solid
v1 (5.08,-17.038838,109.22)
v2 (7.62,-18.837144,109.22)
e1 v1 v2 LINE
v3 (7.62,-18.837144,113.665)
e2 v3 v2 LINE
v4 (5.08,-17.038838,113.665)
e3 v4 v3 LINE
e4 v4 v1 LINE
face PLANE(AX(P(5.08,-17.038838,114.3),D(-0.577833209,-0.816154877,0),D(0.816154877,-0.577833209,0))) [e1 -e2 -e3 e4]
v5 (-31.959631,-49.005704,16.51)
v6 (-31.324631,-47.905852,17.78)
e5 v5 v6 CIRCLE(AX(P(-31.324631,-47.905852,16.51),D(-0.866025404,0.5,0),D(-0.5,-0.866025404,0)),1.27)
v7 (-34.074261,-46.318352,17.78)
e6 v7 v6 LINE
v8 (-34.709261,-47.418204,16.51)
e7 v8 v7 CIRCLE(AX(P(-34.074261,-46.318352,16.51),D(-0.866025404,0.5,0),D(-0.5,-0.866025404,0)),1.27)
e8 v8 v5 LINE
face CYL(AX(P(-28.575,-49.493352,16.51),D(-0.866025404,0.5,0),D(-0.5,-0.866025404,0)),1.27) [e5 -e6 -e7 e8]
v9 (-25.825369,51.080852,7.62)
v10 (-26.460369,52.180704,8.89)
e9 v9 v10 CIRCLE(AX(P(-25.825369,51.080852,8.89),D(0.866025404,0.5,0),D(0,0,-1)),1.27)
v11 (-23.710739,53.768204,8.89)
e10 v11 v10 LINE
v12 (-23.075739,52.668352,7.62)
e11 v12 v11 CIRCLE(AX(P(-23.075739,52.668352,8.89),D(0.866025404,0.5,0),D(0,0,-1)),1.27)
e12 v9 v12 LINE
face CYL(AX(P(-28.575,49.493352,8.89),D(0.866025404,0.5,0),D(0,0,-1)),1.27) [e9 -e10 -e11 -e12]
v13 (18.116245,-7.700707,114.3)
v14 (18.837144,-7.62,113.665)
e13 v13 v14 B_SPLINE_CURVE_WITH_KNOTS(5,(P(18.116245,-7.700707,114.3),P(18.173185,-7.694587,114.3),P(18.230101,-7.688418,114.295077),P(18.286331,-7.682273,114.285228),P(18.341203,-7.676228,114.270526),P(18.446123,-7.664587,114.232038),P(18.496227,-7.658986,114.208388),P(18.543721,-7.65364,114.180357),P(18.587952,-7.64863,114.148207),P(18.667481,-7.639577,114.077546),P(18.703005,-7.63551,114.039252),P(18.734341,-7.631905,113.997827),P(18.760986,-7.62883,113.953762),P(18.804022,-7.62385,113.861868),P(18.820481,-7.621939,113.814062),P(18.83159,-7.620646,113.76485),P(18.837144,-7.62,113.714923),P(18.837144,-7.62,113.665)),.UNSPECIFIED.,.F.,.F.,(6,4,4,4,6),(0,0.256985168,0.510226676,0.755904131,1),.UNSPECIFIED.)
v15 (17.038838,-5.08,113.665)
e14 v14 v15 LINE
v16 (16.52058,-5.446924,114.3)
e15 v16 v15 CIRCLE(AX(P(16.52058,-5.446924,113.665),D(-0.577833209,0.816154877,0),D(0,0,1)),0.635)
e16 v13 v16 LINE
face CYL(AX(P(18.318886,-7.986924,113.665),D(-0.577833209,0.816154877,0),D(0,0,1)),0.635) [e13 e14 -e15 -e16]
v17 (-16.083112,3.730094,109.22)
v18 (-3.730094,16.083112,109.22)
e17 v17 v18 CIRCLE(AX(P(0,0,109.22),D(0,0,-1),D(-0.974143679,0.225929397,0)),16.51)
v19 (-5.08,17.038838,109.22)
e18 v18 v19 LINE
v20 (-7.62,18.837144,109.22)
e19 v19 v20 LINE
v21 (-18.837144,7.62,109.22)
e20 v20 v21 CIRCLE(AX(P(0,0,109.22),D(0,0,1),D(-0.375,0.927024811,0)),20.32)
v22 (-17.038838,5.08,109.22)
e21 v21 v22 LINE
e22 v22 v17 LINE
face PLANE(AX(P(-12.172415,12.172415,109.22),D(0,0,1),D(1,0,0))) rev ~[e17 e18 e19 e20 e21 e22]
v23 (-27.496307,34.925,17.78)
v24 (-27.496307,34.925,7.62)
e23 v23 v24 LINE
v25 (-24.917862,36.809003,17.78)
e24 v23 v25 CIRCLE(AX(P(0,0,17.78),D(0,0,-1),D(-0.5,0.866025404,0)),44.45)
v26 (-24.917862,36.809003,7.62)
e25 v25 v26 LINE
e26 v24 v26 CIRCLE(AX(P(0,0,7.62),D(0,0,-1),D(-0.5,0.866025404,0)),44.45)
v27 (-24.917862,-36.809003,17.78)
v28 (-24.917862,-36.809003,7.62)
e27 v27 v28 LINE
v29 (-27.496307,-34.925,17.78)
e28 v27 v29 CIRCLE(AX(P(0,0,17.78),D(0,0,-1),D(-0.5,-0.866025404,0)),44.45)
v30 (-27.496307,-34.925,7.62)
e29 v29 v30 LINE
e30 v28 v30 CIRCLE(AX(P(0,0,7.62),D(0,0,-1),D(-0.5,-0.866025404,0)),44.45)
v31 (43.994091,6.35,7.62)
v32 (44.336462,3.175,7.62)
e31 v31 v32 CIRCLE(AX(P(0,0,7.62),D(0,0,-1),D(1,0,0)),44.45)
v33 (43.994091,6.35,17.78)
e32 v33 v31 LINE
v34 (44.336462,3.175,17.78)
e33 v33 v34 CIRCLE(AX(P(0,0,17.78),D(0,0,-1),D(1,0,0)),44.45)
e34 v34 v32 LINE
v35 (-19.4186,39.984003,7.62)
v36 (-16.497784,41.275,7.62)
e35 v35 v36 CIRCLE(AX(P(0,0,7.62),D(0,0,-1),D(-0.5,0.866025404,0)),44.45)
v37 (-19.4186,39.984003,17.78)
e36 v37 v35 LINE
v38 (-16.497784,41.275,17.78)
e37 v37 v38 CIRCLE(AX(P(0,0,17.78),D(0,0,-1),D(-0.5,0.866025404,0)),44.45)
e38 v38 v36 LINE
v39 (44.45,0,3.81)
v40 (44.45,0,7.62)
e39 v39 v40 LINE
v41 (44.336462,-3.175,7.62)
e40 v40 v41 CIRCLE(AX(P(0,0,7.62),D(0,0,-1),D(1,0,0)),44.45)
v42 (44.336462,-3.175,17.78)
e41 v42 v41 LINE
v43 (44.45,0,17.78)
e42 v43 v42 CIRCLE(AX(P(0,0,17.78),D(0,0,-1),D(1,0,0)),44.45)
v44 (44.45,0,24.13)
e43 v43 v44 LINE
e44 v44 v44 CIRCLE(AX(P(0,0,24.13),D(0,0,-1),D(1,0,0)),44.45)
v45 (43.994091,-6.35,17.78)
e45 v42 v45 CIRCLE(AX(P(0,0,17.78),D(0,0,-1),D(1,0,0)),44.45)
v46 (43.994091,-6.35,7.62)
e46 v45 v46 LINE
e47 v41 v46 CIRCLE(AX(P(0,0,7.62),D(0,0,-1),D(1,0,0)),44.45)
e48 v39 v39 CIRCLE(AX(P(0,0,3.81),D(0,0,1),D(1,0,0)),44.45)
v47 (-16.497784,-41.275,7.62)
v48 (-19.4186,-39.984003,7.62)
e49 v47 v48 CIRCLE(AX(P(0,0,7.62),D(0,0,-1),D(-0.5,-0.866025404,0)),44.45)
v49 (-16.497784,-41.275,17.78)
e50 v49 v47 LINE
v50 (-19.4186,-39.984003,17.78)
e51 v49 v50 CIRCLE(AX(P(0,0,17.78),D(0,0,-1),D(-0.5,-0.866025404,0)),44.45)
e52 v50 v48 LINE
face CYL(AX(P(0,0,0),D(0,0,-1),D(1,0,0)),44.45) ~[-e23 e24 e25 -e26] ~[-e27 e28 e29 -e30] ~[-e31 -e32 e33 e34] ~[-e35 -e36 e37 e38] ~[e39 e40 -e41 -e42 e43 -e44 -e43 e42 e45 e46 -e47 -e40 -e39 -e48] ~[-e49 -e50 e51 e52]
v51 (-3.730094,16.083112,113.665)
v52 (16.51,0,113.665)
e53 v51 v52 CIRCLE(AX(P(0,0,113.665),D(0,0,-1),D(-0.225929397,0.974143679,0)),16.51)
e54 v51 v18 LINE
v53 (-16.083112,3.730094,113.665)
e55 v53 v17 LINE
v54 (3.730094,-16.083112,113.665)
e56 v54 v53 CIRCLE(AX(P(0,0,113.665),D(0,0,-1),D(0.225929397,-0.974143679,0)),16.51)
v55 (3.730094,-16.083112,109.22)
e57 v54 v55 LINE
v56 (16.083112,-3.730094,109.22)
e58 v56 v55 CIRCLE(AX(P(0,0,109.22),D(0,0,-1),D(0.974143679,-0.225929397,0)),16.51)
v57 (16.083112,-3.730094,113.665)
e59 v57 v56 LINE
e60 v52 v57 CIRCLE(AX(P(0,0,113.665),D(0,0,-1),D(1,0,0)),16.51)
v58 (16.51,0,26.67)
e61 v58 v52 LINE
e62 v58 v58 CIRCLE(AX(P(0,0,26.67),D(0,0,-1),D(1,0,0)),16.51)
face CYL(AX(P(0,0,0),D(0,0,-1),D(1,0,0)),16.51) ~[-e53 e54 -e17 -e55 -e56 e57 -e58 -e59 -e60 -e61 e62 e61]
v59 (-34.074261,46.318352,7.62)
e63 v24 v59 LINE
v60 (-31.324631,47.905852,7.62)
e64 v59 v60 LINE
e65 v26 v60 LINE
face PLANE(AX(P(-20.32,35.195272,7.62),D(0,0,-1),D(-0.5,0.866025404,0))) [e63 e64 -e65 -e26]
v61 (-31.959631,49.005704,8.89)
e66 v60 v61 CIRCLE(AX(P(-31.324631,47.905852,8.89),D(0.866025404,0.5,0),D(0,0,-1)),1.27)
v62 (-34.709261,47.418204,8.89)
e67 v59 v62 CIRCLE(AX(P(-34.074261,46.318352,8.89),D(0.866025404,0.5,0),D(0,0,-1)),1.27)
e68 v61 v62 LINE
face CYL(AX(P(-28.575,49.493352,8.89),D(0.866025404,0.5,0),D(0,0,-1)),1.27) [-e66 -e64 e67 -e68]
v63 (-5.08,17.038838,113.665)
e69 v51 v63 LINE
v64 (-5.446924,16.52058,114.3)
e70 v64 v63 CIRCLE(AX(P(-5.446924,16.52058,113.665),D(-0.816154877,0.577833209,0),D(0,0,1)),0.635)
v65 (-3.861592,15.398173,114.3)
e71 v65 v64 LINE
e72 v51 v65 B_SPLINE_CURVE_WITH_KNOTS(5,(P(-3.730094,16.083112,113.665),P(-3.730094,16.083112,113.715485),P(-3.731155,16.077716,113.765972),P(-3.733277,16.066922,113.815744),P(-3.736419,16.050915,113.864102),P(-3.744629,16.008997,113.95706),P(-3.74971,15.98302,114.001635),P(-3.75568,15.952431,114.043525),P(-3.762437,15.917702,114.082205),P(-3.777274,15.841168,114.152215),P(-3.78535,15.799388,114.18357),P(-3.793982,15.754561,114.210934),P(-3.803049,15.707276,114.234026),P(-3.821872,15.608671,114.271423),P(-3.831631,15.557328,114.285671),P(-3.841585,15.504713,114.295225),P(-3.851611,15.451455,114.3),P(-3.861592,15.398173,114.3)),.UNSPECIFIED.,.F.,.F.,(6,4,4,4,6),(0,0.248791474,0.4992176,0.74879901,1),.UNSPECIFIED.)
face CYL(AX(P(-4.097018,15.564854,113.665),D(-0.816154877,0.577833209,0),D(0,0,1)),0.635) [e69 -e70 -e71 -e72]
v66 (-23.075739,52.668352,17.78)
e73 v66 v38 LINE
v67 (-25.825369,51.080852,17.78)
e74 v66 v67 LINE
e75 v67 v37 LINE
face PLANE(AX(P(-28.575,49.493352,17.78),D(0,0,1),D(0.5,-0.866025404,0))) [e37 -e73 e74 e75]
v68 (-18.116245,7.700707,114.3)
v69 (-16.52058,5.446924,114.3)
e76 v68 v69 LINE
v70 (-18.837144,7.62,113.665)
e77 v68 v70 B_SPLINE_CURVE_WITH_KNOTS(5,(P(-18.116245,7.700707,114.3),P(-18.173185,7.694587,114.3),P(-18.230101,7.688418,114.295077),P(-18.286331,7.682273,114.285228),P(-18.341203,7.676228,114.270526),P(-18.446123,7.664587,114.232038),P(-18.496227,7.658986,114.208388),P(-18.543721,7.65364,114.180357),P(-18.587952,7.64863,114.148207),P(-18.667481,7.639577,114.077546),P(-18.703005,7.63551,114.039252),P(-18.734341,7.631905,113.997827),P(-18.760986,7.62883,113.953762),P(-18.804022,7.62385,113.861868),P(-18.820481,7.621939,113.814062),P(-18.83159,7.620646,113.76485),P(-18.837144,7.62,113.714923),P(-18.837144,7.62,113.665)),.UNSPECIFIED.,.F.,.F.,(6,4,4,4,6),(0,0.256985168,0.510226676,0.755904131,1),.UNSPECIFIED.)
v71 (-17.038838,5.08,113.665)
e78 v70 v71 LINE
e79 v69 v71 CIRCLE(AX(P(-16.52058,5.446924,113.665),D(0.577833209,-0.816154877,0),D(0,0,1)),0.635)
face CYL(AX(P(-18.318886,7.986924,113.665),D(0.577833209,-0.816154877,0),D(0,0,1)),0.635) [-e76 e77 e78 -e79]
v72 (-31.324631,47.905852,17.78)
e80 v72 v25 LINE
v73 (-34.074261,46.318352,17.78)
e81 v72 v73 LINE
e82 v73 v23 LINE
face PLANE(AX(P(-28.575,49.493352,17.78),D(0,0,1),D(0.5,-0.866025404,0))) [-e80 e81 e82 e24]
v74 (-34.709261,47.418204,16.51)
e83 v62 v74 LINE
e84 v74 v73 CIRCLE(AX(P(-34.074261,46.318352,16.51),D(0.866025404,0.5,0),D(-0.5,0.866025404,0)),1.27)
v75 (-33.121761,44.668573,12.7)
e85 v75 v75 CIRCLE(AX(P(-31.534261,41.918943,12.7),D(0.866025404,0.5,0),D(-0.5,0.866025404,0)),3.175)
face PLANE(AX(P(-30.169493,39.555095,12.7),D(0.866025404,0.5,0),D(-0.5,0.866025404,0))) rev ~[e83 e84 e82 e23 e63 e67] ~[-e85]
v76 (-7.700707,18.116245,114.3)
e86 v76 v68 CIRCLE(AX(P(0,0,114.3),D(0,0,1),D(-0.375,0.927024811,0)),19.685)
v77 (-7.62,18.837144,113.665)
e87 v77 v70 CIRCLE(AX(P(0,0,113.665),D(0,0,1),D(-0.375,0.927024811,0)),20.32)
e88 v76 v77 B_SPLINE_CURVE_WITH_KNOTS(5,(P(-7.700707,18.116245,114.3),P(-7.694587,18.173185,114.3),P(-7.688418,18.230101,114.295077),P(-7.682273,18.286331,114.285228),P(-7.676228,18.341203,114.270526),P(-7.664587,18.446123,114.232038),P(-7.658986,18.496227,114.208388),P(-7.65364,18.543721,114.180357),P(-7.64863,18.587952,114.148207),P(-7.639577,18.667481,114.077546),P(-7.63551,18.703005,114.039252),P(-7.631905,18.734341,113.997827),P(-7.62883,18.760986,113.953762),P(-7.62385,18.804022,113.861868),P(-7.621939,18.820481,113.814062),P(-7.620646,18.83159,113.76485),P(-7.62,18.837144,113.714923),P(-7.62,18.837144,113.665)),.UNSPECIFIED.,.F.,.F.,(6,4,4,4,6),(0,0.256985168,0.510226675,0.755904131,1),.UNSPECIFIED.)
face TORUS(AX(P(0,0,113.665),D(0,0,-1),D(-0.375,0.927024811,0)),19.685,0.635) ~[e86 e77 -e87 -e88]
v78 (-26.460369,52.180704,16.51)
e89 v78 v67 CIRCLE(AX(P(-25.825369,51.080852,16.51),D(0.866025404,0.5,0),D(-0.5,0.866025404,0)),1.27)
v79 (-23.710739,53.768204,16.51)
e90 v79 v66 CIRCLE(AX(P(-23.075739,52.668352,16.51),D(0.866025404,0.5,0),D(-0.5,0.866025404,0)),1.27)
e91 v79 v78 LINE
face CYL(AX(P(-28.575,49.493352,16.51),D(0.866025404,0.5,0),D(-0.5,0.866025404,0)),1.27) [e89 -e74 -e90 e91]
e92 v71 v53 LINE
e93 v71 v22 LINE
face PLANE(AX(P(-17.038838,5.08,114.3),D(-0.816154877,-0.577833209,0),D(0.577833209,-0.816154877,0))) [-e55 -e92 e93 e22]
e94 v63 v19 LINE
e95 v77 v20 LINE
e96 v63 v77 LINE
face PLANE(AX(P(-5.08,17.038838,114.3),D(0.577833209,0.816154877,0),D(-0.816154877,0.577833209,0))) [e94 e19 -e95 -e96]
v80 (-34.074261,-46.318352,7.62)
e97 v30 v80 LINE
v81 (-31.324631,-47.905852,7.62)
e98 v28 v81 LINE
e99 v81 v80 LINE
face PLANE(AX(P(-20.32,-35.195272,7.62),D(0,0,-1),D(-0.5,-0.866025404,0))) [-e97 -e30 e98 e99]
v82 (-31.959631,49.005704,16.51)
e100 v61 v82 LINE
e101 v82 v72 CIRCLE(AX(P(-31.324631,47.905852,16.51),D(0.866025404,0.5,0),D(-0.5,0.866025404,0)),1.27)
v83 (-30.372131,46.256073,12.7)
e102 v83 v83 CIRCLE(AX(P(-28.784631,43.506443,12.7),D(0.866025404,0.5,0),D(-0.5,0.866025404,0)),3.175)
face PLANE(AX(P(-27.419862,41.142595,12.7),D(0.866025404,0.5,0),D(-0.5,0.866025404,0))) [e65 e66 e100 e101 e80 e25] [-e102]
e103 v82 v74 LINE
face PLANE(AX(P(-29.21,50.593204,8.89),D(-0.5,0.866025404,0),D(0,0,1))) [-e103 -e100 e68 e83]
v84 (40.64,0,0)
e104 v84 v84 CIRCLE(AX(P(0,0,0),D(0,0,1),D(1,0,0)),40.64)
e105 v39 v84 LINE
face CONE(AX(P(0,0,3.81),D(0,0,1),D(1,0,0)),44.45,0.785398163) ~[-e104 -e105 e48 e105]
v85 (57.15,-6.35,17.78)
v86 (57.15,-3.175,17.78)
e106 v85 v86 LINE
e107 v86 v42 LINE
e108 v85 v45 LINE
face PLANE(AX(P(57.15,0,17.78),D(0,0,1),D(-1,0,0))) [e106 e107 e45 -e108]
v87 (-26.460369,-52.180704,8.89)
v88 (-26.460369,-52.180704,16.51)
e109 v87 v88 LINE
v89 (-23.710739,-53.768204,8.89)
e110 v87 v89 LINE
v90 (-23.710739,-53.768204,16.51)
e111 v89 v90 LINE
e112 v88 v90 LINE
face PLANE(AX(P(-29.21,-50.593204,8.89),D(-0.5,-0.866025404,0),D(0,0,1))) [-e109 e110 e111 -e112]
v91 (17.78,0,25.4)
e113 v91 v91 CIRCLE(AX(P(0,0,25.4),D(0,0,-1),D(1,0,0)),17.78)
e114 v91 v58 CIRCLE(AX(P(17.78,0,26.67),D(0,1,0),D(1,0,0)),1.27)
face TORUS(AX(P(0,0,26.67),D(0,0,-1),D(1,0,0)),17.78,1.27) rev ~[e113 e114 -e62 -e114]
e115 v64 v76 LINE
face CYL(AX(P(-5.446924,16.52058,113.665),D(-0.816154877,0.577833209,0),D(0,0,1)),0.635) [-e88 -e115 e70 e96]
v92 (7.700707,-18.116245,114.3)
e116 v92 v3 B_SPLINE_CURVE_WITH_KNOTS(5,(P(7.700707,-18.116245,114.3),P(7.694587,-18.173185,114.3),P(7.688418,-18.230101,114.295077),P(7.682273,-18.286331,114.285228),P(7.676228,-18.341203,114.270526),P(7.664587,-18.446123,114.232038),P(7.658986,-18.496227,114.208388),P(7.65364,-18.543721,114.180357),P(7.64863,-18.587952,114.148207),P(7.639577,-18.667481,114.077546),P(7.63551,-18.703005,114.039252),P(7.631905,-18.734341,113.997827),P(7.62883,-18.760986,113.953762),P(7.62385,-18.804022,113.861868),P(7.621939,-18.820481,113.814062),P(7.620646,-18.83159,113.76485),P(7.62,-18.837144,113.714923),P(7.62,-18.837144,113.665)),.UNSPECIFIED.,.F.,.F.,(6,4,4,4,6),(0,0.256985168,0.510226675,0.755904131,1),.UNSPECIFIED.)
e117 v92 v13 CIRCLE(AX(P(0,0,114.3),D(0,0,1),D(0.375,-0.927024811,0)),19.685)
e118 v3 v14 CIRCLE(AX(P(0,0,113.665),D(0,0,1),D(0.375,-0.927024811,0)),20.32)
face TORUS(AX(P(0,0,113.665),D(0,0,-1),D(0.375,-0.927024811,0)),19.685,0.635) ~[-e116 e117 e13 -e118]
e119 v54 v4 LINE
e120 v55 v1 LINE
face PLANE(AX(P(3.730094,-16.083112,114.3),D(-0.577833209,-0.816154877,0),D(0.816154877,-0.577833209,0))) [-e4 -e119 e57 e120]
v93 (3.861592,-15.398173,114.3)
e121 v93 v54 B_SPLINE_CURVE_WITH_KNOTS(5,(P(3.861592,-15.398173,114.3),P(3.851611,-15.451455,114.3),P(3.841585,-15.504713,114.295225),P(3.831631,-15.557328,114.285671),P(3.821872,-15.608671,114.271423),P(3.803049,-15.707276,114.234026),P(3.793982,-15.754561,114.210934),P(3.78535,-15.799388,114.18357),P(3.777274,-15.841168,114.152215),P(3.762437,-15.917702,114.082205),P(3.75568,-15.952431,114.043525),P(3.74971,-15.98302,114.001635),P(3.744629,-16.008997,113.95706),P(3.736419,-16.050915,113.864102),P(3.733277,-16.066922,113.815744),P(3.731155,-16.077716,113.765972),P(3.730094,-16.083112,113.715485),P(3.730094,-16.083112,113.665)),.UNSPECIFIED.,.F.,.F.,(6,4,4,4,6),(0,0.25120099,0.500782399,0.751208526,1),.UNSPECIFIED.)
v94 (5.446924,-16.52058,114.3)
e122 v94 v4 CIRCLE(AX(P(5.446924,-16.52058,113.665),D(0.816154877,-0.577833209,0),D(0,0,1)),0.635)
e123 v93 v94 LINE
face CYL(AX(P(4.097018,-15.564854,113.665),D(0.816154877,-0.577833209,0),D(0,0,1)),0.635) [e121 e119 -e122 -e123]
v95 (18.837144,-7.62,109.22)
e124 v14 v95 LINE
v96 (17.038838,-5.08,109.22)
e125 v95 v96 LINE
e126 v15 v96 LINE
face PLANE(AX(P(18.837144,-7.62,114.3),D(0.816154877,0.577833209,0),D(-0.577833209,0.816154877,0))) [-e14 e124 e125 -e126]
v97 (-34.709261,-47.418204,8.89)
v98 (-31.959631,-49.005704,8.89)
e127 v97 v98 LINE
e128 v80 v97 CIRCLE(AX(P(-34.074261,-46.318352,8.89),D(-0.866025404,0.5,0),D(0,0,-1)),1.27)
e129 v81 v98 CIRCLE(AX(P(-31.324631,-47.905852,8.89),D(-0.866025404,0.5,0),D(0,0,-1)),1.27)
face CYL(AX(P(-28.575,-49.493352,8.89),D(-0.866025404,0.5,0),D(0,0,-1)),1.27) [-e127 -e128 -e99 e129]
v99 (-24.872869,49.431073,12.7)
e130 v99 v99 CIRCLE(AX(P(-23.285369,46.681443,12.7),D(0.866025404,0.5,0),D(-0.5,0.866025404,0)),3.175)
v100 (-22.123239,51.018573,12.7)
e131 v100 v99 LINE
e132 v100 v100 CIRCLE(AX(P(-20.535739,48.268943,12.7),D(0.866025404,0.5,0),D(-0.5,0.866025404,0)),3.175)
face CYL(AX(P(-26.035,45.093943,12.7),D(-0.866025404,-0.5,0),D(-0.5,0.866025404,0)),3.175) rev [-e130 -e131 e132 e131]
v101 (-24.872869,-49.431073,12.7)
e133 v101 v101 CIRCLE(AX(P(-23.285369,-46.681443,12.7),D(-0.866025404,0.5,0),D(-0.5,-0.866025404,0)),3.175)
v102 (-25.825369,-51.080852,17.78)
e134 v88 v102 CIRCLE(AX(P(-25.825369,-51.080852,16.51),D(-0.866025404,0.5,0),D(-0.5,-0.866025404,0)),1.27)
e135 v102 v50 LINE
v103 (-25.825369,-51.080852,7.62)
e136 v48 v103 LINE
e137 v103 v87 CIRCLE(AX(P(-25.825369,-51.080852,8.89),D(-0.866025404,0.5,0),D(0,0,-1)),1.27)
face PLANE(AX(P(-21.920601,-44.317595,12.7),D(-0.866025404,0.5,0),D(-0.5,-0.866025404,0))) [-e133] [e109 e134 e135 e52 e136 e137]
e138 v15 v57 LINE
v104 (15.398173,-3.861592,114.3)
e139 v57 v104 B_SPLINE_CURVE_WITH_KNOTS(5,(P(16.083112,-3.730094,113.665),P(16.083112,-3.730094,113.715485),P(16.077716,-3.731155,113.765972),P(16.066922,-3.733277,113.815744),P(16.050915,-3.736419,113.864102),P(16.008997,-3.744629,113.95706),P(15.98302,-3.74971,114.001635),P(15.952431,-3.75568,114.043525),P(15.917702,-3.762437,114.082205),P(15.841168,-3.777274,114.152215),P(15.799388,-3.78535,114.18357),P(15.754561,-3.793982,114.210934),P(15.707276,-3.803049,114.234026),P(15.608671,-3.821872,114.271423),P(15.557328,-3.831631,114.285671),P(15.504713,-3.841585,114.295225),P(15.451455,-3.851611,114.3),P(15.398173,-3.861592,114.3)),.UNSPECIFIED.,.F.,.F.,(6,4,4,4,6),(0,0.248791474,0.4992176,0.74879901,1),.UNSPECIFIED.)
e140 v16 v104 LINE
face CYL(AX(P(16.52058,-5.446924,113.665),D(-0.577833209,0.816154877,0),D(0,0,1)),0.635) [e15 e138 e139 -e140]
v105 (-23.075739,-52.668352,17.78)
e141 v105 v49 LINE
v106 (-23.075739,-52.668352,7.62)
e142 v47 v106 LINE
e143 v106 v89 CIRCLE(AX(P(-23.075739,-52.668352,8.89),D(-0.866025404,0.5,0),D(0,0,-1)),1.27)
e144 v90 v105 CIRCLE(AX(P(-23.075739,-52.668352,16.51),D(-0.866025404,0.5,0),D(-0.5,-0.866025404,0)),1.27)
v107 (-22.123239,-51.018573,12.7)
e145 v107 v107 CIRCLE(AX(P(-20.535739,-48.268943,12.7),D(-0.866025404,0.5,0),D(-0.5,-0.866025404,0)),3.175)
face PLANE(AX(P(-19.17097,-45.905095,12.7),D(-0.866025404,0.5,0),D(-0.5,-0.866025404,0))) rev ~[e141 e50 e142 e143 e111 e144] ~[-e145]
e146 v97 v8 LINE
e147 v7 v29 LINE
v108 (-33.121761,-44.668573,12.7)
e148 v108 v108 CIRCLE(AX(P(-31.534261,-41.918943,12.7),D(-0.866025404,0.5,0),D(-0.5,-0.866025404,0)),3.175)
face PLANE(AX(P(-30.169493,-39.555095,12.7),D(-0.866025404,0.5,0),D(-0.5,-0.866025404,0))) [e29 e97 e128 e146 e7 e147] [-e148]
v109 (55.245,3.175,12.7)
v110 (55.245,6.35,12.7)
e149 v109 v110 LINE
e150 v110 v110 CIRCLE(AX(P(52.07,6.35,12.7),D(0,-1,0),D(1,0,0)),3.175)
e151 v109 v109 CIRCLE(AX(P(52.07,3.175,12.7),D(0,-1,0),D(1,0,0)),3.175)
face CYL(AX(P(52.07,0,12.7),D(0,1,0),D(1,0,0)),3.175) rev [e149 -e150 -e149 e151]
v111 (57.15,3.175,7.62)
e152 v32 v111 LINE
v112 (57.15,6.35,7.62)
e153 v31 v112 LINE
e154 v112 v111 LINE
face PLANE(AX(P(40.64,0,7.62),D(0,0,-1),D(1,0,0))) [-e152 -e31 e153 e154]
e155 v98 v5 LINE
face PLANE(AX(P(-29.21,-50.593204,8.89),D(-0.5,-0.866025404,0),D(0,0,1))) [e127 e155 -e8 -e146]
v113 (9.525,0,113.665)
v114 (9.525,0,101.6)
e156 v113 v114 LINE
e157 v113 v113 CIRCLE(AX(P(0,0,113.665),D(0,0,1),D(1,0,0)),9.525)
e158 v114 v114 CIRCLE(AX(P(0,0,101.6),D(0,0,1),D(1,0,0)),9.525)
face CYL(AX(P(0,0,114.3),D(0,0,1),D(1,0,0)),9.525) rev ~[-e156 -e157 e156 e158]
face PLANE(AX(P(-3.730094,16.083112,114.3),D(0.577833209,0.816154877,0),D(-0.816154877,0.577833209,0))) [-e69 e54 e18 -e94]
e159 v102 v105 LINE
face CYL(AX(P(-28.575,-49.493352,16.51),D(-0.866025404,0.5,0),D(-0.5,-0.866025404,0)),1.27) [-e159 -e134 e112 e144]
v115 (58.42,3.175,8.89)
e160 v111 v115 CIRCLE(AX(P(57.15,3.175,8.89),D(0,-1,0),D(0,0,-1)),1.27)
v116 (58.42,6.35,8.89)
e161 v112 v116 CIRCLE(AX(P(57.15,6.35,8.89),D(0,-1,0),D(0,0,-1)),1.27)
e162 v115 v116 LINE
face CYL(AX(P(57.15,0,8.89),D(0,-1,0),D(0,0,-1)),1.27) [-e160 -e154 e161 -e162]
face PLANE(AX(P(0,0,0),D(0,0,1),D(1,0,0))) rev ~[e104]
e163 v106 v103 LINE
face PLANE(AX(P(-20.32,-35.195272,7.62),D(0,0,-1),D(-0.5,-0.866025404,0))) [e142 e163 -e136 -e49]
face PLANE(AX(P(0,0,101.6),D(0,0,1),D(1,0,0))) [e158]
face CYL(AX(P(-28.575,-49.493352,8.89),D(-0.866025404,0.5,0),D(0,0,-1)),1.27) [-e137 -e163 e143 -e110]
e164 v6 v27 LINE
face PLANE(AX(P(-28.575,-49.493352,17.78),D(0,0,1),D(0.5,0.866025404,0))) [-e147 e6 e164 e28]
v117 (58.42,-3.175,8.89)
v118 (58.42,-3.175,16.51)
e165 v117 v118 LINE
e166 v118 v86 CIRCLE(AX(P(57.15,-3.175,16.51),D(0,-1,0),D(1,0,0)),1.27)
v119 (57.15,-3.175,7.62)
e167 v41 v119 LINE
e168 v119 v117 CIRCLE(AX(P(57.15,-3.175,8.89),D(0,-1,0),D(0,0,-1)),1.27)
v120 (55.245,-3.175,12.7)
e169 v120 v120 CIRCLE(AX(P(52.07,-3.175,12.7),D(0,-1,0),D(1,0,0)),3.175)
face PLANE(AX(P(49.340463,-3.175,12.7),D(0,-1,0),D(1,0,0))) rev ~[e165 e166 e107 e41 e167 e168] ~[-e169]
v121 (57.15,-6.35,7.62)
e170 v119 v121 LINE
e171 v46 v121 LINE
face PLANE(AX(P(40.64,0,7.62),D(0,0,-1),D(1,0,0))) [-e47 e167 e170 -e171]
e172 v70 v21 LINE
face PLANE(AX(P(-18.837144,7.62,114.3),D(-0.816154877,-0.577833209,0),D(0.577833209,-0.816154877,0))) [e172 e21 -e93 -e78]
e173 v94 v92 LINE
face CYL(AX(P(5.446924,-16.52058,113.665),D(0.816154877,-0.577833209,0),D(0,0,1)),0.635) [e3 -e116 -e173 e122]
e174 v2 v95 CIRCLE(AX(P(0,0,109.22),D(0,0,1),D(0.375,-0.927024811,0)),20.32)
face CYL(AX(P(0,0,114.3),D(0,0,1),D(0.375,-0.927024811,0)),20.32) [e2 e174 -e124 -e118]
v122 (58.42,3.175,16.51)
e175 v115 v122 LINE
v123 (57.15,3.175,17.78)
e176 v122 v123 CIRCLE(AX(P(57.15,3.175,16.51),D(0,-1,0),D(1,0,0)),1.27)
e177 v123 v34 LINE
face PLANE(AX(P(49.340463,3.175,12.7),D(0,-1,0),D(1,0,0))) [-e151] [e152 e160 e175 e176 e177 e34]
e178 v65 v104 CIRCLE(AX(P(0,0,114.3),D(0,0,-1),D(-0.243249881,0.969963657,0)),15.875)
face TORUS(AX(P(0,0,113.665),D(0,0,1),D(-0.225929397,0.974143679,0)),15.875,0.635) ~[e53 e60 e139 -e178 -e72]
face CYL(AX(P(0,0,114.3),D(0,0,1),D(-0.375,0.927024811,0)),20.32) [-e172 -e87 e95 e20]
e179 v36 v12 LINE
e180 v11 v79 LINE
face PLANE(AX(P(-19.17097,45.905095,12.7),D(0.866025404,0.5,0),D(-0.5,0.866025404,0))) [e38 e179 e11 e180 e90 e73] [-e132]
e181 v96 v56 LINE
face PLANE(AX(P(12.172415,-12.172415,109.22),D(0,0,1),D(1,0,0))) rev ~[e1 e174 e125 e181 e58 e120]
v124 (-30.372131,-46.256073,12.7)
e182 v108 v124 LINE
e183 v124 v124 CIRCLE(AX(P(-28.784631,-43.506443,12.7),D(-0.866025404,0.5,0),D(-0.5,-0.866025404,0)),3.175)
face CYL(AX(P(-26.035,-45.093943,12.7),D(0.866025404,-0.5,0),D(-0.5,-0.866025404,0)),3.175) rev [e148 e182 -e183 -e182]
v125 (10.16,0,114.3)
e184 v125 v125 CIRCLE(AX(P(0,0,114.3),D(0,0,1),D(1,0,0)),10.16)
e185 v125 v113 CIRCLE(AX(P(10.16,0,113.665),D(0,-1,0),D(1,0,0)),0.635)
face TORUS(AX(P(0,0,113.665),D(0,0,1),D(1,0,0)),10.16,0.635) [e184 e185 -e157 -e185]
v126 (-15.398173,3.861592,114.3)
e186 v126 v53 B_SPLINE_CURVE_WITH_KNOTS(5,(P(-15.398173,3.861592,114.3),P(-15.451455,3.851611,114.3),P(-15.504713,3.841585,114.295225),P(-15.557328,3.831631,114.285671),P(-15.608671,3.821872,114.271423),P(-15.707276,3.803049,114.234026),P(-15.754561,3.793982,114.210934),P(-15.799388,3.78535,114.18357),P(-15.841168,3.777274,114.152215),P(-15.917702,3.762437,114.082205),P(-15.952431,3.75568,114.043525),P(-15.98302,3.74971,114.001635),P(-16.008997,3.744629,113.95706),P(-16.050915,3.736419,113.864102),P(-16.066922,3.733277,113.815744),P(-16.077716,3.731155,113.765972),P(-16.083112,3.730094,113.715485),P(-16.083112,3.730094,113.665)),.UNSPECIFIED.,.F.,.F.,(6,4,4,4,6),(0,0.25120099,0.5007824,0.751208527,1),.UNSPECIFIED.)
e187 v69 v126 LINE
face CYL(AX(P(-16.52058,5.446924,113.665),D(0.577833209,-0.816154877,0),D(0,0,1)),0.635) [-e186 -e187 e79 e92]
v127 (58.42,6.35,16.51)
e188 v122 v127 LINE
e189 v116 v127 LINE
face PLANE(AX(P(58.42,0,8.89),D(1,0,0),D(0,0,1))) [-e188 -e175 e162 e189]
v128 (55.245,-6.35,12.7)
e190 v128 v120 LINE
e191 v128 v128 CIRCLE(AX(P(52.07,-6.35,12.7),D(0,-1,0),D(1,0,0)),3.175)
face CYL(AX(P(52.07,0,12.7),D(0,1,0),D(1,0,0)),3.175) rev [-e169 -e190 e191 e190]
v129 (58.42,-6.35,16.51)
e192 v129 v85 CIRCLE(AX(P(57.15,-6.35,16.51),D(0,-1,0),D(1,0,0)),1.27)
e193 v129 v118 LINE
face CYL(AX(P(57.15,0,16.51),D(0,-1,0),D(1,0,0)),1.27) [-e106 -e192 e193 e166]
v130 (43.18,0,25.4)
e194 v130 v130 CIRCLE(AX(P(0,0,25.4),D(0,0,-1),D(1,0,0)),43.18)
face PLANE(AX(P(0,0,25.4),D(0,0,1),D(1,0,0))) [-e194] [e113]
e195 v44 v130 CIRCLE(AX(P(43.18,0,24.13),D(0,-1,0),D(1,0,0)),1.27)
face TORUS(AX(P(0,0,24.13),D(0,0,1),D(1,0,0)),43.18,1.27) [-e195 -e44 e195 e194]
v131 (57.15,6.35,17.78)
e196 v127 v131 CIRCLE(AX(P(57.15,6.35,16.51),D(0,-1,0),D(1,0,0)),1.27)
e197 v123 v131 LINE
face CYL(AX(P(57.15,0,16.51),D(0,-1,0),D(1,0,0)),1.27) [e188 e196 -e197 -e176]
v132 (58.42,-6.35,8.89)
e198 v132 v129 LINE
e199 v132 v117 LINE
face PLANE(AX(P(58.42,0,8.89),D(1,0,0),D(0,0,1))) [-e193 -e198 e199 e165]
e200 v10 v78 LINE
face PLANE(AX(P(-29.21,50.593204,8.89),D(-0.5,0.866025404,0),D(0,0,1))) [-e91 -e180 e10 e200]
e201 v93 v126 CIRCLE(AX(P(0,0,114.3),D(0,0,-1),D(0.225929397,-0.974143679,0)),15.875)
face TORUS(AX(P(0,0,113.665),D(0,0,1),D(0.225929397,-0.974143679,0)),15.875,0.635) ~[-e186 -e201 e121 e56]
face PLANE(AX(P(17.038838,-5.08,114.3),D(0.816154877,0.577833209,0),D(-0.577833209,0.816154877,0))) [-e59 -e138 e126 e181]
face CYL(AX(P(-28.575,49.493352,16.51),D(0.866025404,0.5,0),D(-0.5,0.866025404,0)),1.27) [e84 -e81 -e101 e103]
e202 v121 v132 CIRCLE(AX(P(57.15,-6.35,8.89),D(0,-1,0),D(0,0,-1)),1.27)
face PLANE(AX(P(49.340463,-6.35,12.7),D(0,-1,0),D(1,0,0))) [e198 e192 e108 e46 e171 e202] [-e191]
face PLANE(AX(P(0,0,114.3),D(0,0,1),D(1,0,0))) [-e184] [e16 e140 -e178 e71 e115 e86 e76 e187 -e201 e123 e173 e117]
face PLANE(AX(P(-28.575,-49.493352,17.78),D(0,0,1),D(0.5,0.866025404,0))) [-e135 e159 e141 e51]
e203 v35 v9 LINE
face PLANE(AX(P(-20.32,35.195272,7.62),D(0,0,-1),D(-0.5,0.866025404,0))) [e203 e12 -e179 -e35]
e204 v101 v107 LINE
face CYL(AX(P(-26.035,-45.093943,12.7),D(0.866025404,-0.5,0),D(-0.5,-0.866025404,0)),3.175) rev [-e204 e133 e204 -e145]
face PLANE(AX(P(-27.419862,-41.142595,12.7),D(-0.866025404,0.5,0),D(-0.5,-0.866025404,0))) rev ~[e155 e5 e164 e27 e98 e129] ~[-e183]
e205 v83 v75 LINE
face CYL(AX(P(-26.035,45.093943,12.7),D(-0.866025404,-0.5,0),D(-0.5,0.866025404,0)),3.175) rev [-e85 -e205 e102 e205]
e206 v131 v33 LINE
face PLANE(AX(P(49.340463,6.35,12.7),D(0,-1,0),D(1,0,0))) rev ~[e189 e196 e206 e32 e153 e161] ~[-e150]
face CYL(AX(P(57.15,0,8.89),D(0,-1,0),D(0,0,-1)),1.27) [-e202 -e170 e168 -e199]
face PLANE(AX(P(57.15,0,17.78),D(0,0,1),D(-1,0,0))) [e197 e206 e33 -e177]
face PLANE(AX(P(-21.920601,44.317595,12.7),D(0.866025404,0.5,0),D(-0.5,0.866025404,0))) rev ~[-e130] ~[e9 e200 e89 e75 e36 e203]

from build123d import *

# Parameters (mm, degrees)
F0_R      = 44.45
F0_R_2    = 16.51
F1_DEPTH  = 25.4
F2_DEPTH  = 114.3
F3_R      = 3.175
F4_DEPTH  = 6.35
F5_DEPTH  = 3.175
F6_R      = 1.27
F7_SIZE   = 3.81
F8_COUNT  = 3
F10_DEPTH = 5.08
F11_R     = 9.525
F12_DEPTH = 12.7
F13_R     = 0.635


with BuildPart() as f1:
    # F0 (on Top) → F1 (new body)
    with BuildSketch(Plane.XY):
        Circle(F0_R)
        Circle(F0_R_2, mode=Mode.SUBTRACT)
        Circle(F0_R_2)
    extrude(amount=F1_DEPTH)

    # F0 (on Top) → F2 (join)
    with BuildSketch(Plane.XY):
        Circle(F0_R_2)
    extrude(amount=F2_DEPTH)

    # F3 (on Front) → F4 (join, symmetric)
    with BuildSketch(Plane.XZ):
        with BuildLine():
            Line((57.15, 17.78), (40.64, 17.78))
            Line((40.64, 17.78), (40.64, 7.62))
            Line((40.64, 7.62), (57.15, 7.62))
            ThreePointArc((57.15, 7.62), (58.0480256121, 7.9919743879), (58.42, 8.89))
            Line((58.42, 8.89), (58.42, 16.51))
            ThreePointArc((58.42, 16.51), (58.0480256121, 17.4080256121), (57.15, 17.78))
        make_face()
        with Locations((52.07, 12.7)):
            Circle(F3_R, mode=Mode.SUBTRACT)
    extrude(amount=F4_DEPTH, both=True)

    # F3 (on Front) → F5 (cut, symmetric)
    with BuildSketch(Plane.XZ):
        with BuildLine():
            Line((57.15, 17.78), (40.64, 17.78))
            Line((40.64, 17.78), (40.64, 7.62))
            Line((40.64, 7.62), (57.15, 7.62))
            ThreePointArc((57.15, 7.62), (58.0480256121, 7.9919743879), (58.42, 8.89))
            Line((58.42, 8.89), (58.42, 16.51))
            ThreePointArc((58.42, 16.51), (58.0480256121, 17.4080256121), (57.15, 17.78))
        make_face()
        with Locations((52.07, 12.7)):
            Circle(F3_R, mode=Mode.SUBTRACT)
    extrude(amount=F5_DEPTH, both=True, mode=Mode.SUBTRACT)

    # F6
    f6_edges = [f1.edges().sort_by_distance(p)[0] for p in [
        (-44.45, 0, 25.4),
        (-16.51, 0, 25.4),
    ]]
    fillet(f6_edges, radius=F6_R)

    # F7
    f7_edges = [f1.edges().sort_by_distance(p)[0] for p in [
        (-44.45, 0, 0),
    ]]
    chamfer(f7_edges, length=F7_SIZE)

    # F8: F1 ×3 about axis
    f8_axis = Axis((0, 0, 0), (0, 0, -1))


with BuildPart() as f1_1:
    add(f1.part)
    for i in range(1, F8_COUNT):
        add(f1.part.rotate(f8_axis, i * 360 / F8_COUNT))

    # F9 (on face) → F10 (join)
    with BuildSketch(Plane.XY.offset(114.3)):
        with BuildLine():
            ThreePointArc((-16.0831121405, 3.730094352), (-11.6743329574, 11.6743329574), (-3.730094352, 16.0831121405))
            Line((-3.730094352, 16.0831121405), (-5.08, 17.0388379885))
            Line((-5.08, 17.0388379885), (-7.62, 18.8371441572))
            ThreePointArc((-7.62, 18.8371441572), (-14.3684097937, 14.3684097937), (-18.8371441572, 7.62))
            Line((-18.8371441572, 7.62), (-17.0388379885, 5.08))
            Line((-17.0388379885, 5.08), (-16.0831121405, 3.730094352))
        make_face()
        with BuildLine():
            Line((17.0388379885, -5.08), (16.0831121405, -3.730094352))
            ThreePointArc((16.0831121405, -3.730094352), (11.6743329574, -11.6743329574), (3.730094352, -16.0831121405))
            Line((3.730094352, -16.0831121405), (5.08, -17.0388379885))
            Line((5.08, -17.0388379885), (7.62, -18.8371441572))
            ThreePointArc((7.62, -18.8371441572), (14.3684097937, -14.3684097937), (18.8371441572, -7.62))
            Line((18.8371441572, -7.62), (17.0388379885, -5.08))
        make_face()
    extrude(amount=-F10_DEPTH)

    # F11 (on face) → F12 (cut)
    with BuildSketch(Plane.XY.offset(114.3)):
        Circle(F11_R)
    extrude(amount=-F12_DEPTH, mode=Mode.SUBTRACT)

    # F13
    f13_edges = [f1_1.edges().sort_by_distance(p)[0] for p in [
        (16.402931, -1.877221, 114.3),
        (10.271228, 12.926019, 114.3),
        (17.460128, -5.675047, 114.3),
        (-5.675047, 17.460128, 114.3),
        (14.36841, -14.36841, 114.3),
        (-14.36841, 14.36841, 114.3),
        (5.675047, -17.460128, 114.3),
        (-17.460128, 5.675047, 114.3),
        (-11.674333, -11.674333, 114.3),
        (-9.525, 0, 114.3),
    ]]
    fillet(f13_edges, radius=F13_R)


solid = f1_1.part
